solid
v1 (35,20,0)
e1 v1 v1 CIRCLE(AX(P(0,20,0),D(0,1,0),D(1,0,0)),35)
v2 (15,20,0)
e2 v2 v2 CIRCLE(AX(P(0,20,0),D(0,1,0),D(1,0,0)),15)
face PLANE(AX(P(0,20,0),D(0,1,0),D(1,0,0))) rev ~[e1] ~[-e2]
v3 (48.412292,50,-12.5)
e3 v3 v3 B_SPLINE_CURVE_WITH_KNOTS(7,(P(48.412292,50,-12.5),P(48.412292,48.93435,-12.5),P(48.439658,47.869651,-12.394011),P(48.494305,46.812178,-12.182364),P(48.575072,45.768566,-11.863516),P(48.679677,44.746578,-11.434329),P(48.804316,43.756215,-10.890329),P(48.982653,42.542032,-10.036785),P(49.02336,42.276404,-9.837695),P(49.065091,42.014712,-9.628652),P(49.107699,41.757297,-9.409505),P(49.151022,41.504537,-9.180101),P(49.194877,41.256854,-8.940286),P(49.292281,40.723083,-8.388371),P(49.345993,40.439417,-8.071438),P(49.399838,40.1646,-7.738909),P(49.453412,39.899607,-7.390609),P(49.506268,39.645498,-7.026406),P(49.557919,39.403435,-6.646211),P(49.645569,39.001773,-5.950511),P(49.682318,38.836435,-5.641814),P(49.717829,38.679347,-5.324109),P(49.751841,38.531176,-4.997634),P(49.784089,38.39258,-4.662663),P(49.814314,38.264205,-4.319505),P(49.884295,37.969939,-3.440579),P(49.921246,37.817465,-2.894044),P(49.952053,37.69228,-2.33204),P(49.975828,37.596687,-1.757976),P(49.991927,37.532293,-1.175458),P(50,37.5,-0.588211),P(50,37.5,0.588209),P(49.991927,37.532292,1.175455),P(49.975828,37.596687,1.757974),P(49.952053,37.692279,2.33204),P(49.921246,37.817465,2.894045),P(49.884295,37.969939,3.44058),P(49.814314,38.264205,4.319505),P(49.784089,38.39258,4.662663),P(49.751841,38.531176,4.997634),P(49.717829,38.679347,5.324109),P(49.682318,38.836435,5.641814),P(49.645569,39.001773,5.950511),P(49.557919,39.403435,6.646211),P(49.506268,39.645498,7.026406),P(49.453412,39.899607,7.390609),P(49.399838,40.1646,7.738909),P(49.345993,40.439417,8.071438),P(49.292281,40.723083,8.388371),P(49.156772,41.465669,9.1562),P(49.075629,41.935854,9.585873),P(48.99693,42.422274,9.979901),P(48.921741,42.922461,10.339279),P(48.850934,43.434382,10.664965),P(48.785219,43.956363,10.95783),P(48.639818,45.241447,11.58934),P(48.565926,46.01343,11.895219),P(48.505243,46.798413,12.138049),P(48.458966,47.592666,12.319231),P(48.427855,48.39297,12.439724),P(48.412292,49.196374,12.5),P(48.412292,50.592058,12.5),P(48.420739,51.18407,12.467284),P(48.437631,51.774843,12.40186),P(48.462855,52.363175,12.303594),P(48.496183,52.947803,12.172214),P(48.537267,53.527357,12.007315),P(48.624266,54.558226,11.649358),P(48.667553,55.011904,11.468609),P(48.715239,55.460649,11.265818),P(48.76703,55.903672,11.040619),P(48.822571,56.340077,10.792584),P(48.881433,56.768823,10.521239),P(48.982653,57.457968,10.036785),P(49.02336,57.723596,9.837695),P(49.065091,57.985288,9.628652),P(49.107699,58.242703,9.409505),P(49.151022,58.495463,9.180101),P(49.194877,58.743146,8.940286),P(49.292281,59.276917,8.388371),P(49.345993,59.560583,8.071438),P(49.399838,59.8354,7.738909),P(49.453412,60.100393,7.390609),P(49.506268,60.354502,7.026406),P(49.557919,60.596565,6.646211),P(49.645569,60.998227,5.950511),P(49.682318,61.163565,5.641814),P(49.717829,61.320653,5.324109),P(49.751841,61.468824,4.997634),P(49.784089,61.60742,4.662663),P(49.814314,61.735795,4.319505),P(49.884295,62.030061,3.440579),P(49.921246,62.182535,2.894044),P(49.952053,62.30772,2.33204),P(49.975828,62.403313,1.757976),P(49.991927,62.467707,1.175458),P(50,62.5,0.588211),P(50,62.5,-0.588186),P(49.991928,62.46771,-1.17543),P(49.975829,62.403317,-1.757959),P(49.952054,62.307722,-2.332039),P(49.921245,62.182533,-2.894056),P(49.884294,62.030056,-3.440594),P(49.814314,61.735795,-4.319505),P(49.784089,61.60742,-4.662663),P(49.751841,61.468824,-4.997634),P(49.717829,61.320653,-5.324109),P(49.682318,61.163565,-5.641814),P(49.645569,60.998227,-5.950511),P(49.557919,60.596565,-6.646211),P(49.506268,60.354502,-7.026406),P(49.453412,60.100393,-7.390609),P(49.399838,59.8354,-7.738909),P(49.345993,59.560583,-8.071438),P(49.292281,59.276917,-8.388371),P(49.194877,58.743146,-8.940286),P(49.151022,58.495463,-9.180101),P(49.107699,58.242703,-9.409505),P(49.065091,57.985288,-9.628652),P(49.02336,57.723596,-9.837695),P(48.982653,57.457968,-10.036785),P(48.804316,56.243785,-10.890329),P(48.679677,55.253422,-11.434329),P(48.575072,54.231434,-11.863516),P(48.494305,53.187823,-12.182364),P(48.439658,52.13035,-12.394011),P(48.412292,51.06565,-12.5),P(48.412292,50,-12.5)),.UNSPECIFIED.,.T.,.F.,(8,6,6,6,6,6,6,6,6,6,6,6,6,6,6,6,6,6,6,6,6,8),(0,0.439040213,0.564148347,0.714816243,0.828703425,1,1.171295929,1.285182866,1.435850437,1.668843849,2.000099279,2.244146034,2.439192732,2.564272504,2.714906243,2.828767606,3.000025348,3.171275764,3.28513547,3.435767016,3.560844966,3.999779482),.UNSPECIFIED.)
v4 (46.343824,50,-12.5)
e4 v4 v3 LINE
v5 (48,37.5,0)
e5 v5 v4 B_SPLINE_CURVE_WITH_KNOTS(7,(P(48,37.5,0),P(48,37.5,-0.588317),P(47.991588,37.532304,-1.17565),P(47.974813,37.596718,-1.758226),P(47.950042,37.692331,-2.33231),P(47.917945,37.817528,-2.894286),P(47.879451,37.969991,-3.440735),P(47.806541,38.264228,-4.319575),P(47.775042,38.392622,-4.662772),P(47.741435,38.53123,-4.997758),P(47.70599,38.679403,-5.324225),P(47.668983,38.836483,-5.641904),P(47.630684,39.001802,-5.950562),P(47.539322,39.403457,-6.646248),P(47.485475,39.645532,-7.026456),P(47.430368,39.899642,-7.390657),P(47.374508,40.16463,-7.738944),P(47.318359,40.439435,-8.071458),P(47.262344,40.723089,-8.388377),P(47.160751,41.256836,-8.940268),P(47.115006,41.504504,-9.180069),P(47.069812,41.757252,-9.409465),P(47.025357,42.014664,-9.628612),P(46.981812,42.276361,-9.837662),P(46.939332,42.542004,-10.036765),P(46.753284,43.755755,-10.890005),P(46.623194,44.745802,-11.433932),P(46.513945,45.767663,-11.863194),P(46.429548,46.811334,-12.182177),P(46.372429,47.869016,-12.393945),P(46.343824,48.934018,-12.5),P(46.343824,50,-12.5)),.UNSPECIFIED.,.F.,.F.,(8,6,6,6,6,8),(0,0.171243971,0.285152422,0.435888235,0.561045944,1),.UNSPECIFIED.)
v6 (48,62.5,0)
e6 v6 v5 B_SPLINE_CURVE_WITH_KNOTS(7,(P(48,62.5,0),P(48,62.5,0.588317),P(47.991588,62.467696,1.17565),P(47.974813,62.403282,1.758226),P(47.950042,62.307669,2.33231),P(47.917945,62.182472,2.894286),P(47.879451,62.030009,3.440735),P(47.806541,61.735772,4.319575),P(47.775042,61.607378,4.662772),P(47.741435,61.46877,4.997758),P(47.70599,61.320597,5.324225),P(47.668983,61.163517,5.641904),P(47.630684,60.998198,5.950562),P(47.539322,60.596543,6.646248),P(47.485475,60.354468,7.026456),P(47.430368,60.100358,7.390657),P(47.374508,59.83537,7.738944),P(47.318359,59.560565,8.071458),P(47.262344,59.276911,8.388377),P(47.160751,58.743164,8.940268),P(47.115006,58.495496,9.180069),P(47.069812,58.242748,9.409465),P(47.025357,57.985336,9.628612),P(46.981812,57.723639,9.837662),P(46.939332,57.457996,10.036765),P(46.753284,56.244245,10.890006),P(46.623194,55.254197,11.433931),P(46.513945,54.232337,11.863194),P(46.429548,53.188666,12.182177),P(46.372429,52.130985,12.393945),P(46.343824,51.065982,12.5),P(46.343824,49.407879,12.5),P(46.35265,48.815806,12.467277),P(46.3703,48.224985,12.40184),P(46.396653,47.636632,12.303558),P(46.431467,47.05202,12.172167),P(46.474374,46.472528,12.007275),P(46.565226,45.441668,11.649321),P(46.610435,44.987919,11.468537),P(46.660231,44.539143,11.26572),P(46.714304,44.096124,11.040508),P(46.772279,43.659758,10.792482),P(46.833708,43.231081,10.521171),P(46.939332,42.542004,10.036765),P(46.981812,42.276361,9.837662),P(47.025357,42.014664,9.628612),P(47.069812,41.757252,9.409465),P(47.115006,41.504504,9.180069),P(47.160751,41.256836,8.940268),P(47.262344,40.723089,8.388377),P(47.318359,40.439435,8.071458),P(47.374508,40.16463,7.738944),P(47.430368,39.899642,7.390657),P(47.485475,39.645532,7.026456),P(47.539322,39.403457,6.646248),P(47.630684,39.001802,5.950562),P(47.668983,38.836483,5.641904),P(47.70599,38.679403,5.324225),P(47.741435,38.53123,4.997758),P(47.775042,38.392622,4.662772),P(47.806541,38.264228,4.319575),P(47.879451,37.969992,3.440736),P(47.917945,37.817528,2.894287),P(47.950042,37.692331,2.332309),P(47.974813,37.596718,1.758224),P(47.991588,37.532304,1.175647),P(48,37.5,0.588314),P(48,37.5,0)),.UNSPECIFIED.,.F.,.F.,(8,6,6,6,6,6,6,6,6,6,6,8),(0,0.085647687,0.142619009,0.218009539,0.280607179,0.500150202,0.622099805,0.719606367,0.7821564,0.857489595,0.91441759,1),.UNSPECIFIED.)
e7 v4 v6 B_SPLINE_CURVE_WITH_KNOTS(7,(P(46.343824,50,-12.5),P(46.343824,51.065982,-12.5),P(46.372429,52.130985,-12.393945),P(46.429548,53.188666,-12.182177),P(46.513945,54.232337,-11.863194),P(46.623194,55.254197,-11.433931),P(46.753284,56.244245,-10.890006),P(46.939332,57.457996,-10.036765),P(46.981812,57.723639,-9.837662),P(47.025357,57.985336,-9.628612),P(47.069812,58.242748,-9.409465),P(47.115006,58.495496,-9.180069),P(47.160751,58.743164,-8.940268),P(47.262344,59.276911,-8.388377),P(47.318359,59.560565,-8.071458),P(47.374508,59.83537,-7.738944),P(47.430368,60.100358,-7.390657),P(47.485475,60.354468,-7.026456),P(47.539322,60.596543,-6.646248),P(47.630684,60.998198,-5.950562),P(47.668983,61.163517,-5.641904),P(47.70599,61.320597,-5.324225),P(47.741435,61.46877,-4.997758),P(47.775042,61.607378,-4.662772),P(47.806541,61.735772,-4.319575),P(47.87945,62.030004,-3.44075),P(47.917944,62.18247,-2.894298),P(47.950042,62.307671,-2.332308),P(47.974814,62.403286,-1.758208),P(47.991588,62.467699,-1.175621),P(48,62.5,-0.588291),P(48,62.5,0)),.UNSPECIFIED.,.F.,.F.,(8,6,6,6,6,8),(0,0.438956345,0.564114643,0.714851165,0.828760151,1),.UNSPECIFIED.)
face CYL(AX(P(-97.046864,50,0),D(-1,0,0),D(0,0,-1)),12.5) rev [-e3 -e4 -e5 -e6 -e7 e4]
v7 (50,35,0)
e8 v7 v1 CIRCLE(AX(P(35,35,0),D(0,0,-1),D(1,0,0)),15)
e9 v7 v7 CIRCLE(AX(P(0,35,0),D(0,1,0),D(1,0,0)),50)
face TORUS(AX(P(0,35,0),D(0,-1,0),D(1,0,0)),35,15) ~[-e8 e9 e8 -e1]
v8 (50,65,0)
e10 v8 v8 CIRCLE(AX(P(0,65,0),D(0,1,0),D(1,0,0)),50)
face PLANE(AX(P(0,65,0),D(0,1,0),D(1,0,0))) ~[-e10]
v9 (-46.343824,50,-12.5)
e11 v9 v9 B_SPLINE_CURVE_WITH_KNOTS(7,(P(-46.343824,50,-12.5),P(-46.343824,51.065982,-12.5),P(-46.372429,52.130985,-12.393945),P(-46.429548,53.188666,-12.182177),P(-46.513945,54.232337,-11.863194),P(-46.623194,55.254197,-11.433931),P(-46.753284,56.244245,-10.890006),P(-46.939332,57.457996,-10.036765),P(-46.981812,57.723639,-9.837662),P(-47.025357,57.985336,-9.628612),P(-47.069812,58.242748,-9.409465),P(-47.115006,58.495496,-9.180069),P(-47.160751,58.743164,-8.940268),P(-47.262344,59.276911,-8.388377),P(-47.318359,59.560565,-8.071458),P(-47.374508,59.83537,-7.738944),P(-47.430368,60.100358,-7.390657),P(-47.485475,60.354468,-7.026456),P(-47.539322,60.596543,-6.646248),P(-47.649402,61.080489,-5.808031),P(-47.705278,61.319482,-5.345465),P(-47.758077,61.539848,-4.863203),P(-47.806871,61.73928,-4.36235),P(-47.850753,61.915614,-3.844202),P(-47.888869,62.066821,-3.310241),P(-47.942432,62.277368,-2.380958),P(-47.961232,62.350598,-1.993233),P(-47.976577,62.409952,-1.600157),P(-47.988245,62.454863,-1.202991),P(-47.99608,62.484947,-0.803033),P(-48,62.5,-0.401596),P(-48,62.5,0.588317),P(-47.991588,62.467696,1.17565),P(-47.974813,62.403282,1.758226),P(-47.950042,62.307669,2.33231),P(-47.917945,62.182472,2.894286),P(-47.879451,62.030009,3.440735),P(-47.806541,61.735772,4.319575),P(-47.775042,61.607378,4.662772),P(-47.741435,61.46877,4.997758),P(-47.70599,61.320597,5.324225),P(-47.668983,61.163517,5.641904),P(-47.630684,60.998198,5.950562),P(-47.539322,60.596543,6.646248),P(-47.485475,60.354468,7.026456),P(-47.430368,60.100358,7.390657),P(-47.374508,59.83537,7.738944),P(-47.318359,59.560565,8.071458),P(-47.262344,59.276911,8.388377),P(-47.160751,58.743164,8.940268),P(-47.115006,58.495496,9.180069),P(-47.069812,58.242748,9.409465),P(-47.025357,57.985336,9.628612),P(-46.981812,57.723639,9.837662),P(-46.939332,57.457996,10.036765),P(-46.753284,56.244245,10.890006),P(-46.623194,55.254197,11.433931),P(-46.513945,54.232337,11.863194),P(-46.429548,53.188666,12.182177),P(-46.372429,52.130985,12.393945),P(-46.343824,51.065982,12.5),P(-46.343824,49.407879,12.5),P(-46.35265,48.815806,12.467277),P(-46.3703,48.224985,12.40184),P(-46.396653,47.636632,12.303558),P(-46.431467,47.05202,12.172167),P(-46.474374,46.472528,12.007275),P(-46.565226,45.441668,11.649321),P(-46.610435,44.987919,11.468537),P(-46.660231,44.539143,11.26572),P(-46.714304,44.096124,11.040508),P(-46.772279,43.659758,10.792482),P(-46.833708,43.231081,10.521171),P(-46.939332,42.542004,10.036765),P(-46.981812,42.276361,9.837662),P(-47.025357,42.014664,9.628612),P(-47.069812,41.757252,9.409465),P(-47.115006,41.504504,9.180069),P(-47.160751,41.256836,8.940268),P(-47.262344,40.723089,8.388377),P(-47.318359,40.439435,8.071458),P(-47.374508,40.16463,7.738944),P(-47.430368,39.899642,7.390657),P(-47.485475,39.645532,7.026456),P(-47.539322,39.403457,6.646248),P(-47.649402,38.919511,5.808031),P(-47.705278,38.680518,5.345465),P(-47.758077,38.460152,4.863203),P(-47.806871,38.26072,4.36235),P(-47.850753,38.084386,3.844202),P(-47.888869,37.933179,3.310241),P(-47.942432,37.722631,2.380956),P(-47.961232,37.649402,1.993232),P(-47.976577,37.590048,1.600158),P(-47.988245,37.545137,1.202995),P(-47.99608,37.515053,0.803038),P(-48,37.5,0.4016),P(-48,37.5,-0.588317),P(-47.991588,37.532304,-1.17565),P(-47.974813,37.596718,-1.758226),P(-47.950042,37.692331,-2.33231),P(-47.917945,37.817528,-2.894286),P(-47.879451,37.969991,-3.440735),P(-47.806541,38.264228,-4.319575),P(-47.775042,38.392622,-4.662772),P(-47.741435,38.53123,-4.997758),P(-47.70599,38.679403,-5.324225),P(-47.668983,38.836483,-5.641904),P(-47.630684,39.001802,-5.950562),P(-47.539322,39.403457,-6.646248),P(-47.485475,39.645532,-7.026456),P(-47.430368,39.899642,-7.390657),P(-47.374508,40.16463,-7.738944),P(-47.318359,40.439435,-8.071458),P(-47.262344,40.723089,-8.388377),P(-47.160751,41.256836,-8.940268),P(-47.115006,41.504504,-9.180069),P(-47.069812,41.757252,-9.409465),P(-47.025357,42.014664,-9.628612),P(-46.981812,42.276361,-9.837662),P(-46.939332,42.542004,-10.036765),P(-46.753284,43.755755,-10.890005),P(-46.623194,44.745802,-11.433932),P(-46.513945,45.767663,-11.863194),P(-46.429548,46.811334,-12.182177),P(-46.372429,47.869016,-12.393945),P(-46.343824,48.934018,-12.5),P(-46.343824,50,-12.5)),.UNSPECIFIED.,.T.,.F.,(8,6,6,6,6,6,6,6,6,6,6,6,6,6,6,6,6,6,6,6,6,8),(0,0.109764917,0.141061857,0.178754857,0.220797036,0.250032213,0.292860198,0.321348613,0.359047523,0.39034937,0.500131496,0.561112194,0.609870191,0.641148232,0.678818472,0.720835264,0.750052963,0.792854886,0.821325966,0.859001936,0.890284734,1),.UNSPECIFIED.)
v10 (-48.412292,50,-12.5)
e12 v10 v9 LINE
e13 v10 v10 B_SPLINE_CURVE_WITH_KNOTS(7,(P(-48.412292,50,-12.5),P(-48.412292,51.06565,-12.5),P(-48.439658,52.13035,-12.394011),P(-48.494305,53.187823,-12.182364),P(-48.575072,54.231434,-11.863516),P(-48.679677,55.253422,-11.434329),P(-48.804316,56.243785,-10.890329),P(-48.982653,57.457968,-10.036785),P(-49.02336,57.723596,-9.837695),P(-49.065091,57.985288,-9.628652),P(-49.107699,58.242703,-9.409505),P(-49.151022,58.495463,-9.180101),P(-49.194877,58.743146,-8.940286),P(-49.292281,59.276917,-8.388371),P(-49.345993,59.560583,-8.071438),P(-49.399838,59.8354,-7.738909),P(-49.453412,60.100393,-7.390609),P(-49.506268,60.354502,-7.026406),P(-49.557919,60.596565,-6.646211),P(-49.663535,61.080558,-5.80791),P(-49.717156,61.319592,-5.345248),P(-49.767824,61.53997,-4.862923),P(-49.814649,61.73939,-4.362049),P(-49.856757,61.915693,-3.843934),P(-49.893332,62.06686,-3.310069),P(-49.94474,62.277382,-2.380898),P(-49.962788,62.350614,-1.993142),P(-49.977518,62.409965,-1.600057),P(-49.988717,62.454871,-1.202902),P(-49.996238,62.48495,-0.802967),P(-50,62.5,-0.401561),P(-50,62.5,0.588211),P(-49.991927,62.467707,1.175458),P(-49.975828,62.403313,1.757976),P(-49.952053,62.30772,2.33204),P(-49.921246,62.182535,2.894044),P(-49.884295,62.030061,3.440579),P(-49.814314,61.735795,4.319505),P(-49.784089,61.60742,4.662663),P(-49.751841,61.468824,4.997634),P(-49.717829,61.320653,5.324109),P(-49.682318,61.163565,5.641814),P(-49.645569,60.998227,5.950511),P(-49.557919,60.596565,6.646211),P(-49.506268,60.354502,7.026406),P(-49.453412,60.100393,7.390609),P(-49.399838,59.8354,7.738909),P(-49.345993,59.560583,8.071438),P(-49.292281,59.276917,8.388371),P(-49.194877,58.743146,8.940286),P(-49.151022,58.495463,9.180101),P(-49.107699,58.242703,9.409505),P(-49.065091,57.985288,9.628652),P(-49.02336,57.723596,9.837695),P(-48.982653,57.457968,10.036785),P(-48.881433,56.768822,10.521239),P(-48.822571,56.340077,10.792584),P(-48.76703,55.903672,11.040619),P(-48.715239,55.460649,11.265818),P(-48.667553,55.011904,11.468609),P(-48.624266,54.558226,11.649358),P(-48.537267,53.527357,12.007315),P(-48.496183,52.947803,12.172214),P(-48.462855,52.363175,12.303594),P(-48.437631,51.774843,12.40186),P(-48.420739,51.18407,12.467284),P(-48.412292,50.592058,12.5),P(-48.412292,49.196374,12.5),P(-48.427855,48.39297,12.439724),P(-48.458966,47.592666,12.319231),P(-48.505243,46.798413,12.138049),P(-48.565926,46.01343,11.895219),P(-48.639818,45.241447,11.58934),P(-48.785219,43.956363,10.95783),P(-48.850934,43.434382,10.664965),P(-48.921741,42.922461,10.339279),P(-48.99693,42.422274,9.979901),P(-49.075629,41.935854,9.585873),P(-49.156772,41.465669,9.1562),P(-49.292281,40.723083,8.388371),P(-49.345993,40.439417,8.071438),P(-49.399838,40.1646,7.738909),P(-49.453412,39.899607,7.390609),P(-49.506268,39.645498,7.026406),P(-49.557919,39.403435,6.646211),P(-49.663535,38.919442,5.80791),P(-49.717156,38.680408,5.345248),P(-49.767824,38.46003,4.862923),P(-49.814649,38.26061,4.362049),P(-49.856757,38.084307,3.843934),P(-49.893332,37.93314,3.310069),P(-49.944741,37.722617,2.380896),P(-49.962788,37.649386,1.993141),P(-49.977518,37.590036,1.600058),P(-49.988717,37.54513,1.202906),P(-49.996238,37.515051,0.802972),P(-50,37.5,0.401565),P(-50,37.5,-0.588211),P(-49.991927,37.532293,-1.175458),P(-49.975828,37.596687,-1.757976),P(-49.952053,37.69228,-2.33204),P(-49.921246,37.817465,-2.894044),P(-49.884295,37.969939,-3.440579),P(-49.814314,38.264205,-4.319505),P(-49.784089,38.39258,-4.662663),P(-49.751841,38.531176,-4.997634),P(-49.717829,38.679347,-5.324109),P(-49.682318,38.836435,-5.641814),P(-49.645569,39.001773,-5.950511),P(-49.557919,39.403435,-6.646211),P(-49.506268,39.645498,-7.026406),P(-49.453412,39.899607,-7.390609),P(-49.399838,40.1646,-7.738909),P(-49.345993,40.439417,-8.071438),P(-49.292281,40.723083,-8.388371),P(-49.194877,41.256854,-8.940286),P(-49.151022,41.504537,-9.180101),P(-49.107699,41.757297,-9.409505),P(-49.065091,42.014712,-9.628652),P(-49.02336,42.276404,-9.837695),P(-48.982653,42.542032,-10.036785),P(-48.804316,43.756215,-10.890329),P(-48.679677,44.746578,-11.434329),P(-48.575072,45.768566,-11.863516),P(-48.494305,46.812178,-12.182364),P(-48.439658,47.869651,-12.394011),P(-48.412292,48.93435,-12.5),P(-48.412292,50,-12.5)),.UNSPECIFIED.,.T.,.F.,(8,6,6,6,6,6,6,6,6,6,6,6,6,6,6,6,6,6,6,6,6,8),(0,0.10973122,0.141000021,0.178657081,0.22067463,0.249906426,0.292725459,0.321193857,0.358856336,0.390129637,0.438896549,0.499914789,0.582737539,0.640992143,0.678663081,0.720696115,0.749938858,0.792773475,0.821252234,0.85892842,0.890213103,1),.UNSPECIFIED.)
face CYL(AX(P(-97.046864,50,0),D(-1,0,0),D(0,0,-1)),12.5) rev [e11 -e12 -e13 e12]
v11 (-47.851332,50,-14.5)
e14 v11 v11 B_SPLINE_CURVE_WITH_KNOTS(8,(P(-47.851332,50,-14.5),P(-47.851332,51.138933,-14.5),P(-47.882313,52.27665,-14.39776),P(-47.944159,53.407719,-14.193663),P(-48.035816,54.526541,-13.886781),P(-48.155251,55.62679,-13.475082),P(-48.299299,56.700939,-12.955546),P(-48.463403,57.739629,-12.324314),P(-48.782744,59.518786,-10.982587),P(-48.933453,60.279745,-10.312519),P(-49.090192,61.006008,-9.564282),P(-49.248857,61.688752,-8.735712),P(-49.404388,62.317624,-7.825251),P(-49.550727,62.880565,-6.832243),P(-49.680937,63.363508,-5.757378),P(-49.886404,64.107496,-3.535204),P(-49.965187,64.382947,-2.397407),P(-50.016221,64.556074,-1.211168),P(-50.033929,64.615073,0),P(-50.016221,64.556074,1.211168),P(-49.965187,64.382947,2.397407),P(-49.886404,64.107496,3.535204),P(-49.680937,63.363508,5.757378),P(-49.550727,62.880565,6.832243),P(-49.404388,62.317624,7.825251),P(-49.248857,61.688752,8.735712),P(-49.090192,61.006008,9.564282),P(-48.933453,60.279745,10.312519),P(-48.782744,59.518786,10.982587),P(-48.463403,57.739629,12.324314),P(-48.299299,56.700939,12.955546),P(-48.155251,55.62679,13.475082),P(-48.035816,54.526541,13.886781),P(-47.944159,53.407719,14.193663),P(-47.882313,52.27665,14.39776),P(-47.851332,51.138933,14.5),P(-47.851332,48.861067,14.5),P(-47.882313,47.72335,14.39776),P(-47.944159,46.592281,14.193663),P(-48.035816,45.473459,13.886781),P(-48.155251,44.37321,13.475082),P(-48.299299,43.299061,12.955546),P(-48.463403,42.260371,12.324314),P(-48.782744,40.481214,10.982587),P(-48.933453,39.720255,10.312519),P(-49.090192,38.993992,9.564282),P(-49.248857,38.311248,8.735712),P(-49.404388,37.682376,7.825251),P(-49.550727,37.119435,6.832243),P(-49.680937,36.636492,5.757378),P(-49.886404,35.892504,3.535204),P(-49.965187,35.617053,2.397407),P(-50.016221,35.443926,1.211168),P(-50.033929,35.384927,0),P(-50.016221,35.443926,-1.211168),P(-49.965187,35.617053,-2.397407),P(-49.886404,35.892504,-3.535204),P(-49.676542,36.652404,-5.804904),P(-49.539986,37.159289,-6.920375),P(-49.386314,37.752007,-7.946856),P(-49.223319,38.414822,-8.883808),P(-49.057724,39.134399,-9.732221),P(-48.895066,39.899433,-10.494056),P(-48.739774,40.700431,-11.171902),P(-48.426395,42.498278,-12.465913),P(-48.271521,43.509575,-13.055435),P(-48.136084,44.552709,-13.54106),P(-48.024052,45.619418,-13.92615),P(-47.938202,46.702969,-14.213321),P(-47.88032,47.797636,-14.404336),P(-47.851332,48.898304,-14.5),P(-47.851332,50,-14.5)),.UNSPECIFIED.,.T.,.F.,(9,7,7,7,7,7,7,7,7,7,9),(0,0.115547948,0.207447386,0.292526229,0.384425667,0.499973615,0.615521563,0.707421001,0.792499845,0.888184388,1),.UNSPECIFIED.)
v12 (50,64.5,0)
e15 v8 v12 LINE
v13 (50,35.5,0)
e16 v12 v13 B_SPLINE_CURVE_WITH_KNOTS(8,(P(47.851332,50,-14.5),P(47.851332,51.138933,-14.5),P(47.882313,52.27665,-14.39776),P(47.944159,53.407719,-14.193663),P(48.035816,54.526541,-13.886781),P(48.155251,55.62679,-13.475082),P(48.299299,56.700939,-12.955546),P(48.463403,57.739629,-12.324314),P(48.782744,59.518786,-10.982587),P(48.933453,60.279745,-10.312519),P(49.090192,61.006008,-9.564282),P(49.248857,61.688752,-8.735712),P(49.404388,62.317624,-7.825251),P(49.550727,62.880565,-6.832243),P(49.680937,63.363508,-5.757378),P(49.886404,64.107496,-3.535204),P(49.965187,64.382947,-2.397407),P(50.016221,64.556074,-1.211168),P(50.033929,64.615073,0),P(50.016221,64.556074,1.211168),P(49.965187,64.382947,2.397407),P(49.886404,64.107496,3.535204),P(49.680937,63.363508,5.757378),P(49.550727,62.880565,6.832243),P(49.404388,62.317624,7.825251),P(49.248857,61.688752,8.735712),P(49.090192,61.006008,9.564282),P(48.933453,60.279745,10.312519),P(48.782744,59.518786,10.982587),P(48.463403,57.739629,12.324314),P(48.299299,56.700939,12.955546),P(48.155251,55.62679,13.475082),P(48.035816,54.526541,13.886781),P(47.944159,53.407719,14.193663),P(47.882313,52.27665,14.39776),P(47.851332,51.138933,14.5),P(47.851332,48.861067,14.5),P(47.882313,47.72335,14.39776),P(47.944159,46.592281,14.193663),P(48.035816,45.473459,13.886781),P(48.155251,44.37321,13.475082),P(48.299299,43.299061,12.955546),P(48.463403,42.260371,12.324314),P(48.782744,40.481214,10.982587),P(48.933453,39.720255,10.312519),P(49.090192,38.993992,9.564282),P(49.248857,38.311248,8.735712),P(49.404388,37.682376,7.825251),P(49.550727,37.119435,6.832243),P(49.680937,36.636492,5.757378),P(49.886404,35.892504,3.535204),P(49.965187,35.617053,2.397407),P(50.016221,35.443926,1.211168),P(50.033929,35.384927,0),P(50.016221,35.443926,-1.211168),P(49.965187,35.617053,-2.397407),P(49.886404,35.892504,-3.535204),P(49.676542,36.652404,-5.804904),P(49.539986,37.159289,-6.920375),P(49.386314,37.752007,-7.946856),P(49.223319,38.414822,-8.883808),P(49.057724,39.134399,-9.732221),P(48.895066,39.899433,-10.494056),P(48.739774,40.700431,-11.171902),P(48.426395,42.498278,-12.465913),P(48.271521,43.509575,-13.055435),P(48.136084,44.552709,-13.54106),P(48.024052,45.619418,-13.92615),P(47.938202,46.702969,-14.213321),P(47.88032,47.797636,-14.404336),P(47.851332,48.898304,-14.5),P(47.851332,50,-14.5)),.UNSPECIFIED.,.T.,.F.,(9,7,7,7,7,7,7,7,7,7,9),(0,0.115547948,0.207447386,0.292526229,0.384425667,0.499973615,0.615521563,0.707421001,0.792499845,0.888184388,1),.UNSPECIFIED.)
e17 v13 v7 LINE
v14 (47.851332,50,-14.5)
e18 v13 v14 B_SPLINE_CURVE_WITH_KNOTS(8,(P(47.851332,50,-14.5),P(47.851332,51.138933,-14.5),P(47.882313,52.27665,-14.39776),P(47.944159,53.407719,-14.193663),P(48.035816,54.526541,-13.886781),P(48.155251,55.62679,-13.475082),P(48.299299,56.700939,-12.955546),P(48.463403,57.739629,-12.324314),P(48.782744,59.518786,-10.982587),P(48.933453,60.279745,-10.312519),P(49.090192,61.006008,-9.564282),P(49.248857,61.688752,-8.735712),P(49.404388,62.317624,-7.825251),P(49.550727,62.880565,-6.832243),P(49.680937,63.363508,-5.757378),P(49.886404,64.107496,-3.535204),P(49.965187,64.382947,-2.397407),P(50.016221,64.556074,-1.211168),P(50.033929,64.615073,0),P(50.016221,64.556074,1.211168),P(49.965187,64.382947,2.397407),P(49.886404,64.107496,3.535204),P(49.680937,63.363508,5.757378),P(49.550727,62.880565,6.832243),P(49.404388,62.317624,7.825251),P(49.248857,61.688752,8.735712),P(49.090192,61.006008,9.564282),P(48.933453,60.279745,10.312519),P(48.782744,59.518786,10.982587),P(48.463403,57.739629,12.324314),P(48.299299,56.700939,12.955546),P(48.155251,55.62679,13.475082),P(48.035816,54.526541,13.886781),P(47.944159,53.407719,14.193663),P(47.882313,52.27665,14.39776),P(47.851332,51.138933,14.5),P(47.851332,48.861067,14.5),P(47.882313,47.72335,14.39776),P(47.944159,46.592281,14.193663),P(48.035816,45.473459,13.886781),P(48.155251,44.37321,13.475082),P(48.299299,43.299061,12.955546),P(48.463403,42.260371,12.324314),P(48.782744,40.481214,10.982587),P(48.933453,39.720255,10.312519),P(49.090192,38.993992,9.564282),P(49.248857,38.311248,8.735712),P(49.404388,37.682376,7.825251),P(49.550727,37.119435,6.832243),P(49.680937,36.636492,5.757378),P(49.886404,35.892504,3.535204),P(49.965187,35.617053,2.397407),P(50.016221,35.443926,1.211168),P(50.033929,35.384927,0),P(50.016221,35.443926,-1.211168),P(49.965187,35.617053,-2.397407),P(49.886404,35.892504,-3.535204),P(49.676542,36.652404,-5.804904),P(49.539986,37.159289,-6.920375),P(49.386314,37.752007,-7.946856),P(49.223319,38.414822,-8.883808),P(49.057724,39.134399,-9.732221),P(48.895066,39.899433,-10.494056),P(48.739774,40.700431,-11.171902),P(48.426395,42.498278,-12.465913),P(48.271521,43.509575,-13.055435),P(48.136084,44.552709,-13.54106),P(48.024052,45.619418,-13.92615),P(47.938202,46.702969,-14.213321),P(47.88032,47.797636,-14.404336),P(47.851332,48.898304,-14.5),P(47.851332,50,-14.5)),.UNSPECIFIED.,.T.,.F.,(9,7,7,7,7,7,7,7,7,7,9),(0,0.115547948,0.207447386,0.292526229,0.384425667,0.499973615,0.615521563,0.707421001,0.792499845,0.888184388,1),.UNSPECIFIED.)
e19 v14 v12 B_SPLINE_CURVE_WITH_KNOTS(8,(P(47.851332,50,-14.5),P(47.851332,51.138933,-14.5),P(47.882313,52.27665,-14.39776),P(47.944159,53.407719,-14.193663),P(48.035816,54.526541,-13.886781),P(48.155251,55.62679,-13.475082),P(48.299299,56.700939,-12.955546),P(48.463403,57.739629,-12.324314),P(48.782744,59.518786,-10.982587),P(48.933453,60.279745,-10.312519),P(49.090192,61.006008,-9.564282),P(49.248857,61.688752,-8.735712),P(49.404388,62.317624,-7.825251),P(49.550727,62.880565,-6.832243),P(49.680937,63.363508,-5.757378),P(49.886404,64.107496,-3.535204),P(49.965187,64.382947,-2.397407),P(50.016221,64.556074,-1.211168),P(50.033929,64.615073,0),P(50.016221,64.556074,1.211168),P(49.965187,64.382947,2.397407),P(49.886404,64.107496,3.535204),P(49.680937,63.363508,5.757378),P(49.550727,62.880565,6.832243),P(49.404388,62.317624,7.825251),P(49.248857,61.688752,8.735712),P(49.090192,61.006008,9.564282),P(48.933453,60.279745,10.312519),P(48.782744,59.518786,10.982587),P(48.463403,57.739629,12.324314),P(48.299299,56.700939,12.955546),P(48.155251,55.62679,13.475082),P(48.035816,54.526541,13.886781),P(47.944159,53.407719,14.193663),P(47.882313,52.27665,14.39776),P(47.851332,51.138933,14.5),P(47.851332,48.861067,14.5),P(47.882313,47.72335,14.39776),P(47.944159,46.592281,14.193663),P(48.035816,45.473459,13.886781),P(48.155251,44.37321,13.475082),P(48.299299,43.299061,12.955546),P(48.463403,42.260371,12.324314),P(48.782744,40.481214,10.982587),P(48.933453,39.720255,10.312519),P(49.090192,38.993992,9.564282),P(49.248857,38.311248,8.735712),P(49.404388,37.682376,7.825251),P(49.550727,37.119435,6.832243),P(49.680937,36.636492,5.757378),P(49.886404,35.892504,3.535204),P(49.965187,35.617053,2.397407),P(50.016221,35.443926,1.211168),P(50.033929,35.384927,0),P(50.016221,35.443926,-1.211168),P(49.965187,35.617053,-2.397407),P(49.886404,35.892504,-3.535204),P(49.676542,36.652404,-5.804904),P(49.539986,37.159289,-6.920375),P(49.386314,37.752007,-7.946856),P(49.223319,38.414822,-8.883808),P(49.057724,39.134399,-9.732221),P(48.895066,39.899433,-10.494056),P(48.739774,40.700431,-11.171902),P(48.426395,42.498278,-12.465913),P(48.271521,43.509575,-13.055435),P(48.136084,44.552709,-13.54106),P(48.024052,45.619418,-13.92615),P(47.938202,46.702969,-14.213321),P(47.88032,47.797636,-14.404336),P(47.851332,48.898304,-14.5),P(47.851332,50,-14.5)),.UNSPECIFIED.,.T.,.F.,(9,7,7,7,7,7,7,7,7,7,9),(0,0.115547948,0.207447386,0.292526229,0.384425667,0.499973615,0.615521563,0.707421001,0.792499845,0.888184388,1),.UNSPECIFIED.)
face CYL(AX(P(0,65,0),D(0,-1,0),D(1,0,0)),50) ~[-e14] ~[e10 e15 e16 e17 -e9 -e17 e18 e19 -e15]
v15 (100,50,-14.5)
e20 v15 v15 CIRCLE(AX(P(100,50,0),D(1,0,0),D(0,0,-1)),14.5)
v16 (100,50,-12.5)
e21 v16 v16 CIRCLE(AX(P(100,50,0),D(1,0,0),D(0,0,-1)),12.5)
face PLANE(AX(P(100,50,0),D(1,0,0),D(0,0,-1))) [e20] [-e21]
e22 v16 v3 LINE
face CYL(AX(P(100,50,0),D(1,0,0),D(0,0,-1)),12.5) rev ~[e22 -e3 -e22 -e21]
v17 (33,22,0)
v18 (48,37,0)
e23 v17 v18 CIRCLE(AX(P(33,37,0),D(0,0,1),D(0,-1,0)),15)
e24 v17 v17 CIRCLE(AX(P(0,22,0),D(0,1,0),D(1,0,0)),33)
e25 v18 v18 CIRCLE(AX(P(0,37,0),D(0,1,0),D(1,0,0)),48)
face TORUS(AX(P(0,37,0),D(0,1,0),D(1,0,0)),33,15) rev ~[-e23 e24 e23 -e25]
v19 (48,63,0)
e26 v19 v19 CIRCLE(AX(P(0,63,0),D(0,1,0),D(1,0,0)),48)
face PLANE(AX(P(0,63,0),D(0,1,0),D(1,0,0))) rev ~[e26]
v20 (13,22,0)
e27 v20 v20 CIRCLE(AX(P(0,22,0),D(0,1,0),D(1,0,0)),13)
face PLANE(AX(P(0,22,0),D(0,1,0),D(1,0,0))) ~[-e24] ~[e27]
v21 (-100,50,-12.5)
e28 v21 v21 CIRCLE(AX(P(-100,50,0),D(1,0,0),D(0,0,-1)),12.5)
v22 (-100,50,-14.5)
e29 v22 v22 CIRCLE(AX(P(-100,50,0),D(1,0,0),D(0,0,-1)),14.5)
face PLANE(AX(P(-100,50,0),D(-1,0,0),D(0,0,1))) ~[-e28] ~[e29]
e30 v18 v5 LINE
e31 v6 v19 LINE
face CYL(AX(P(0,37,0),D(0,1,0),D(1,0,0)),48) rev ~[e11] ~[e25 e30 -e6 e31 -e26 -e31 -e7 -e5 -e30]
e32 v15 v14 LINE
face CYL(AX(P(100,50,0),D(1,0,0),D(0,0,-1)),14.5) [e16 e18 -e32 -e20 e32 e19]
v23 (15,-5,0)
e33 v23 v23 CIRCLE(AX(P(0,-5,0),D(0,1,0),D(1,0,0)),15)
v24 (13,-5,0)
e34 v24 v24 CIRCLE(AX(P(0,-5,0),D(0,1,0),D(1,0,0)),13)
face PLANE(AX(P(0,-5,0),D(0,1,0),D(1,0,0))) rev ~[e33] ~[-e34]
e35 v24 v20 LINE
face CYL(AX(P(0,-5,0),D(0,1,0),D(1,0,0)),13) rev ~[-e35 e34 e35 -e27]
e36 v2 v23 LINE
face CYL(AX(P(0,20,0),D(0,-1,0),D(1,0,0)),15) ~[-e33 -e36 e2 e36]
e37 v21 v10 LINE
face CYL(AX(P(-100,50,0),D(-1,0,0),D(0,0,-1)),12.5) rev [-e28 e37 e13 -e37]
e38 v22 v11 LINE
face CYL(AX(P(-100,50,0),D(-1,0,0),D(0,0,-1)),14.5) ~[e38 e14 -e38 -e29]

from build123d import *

# Parameters (mm, degrees)
CUT_EXTRUDE1_DEPTH       = 97.046863666
CUT_EXTRUDE1_DEPTH_BACK  = 97.046863666
SKETCH2_R                = 12.5
EXTRUDE_THIN1_REACH      = 172.953
EXTRUDE_THIN1_END_RADIUS = 50
SKETCH12_R               = 14.5
SKETCH12_R_2             = 12.5


with BuildPart() as part:
    # Sketch1 → Revolve1 (revolve)
    with BuildSketch(Plane.XY):
        with BuildLine():
            Line((0, 65), (50, 65))
            Line((50, 65), (50, 35))
            ThreePointArc((50, 35), (45.606601718, 24.393398282), (35, 20))
            Line((35, 20), (15, 20))
            Line((15, 20), (15, -5))
            Line((15, -5), (13, -5))
            Line((13, -5), (13, 22))
            Line((13, 22), (33, 22))
            ThreePointArc((33, 22), (43.606601718, 26.393398282), (48, 37))
            Line((48, 37), (48, 63))
            Line((48, 63), (0, 63))
            Line((0, 63), (0, 65))
        make_face()
    revolve(axis=Axis((0, 0, 0), (0, 1, 0)))

    # Sketch2 → Cut-Extrude1 (cut, two sides: drawn at the far end of the back side and taken through both)
    with BuildSketch(Plane(origin=(0, 0, 0), x_dir=(0, 0, -1), z_dir=(1, 0, 0)).offset(-CUT_EXTRUDE1_DEPTH_BACK)):
        with Locations((0, 50)):
            Circle(SKETCH2_R)
    extrude(amount=CUT_EXTRUDE1_DEPTH + CUT_EXTRUDE1_DEPTH_BACK, mode=Mode.SUBTRACT)

    # Extrude-Thin1: up to this cylinder (the profile starts outside it)
    extrude_thin1_end = Plane(origin=(0, 50, 0), z_dir=(0, -1, 0)) * Cylinder(EXTRUDE_THIN1_END_RADIUS, 446.906, mode=Mode.PRIVATE)
    # Sketch12 → Extrude-Thin1 (add, up to the surface)
    with BuildSketch(Plane(origin=(100, 0, 0), x_dir=(0, 0, -1), z_dir=(1, 0, 0)), mode=Mode.PRIVATE) as extrude_thin1_sk1:
        with Locations((0, 50)):
            Circle(SKETCH12_R)
        with Locations((0, 50)):
            Circle(SKETCH12_R_2, mode=Mode.SUBTRACT)
    extrude_thin1_tool1 = extrude(extrude_thin1_sk1.sketch, amount=-EXTRUDE_THIN1_REACH, mode=Mode.PRIVATE) - extrude_thin1_end
    extrude_thin1 = extrude_thin1_tool1.solids().sort_by_distance((100, 50, 14.089878))[0]
    add(extrude_thin1)

    # Mirror1: Extrude-Thin1 across plane
    add(extrude_thin1.mirror(Plane(origin=(0, 0, 0), x_dir=(0, 0, 1), z_dir=(1, 0, 0))))


solid = part.part
